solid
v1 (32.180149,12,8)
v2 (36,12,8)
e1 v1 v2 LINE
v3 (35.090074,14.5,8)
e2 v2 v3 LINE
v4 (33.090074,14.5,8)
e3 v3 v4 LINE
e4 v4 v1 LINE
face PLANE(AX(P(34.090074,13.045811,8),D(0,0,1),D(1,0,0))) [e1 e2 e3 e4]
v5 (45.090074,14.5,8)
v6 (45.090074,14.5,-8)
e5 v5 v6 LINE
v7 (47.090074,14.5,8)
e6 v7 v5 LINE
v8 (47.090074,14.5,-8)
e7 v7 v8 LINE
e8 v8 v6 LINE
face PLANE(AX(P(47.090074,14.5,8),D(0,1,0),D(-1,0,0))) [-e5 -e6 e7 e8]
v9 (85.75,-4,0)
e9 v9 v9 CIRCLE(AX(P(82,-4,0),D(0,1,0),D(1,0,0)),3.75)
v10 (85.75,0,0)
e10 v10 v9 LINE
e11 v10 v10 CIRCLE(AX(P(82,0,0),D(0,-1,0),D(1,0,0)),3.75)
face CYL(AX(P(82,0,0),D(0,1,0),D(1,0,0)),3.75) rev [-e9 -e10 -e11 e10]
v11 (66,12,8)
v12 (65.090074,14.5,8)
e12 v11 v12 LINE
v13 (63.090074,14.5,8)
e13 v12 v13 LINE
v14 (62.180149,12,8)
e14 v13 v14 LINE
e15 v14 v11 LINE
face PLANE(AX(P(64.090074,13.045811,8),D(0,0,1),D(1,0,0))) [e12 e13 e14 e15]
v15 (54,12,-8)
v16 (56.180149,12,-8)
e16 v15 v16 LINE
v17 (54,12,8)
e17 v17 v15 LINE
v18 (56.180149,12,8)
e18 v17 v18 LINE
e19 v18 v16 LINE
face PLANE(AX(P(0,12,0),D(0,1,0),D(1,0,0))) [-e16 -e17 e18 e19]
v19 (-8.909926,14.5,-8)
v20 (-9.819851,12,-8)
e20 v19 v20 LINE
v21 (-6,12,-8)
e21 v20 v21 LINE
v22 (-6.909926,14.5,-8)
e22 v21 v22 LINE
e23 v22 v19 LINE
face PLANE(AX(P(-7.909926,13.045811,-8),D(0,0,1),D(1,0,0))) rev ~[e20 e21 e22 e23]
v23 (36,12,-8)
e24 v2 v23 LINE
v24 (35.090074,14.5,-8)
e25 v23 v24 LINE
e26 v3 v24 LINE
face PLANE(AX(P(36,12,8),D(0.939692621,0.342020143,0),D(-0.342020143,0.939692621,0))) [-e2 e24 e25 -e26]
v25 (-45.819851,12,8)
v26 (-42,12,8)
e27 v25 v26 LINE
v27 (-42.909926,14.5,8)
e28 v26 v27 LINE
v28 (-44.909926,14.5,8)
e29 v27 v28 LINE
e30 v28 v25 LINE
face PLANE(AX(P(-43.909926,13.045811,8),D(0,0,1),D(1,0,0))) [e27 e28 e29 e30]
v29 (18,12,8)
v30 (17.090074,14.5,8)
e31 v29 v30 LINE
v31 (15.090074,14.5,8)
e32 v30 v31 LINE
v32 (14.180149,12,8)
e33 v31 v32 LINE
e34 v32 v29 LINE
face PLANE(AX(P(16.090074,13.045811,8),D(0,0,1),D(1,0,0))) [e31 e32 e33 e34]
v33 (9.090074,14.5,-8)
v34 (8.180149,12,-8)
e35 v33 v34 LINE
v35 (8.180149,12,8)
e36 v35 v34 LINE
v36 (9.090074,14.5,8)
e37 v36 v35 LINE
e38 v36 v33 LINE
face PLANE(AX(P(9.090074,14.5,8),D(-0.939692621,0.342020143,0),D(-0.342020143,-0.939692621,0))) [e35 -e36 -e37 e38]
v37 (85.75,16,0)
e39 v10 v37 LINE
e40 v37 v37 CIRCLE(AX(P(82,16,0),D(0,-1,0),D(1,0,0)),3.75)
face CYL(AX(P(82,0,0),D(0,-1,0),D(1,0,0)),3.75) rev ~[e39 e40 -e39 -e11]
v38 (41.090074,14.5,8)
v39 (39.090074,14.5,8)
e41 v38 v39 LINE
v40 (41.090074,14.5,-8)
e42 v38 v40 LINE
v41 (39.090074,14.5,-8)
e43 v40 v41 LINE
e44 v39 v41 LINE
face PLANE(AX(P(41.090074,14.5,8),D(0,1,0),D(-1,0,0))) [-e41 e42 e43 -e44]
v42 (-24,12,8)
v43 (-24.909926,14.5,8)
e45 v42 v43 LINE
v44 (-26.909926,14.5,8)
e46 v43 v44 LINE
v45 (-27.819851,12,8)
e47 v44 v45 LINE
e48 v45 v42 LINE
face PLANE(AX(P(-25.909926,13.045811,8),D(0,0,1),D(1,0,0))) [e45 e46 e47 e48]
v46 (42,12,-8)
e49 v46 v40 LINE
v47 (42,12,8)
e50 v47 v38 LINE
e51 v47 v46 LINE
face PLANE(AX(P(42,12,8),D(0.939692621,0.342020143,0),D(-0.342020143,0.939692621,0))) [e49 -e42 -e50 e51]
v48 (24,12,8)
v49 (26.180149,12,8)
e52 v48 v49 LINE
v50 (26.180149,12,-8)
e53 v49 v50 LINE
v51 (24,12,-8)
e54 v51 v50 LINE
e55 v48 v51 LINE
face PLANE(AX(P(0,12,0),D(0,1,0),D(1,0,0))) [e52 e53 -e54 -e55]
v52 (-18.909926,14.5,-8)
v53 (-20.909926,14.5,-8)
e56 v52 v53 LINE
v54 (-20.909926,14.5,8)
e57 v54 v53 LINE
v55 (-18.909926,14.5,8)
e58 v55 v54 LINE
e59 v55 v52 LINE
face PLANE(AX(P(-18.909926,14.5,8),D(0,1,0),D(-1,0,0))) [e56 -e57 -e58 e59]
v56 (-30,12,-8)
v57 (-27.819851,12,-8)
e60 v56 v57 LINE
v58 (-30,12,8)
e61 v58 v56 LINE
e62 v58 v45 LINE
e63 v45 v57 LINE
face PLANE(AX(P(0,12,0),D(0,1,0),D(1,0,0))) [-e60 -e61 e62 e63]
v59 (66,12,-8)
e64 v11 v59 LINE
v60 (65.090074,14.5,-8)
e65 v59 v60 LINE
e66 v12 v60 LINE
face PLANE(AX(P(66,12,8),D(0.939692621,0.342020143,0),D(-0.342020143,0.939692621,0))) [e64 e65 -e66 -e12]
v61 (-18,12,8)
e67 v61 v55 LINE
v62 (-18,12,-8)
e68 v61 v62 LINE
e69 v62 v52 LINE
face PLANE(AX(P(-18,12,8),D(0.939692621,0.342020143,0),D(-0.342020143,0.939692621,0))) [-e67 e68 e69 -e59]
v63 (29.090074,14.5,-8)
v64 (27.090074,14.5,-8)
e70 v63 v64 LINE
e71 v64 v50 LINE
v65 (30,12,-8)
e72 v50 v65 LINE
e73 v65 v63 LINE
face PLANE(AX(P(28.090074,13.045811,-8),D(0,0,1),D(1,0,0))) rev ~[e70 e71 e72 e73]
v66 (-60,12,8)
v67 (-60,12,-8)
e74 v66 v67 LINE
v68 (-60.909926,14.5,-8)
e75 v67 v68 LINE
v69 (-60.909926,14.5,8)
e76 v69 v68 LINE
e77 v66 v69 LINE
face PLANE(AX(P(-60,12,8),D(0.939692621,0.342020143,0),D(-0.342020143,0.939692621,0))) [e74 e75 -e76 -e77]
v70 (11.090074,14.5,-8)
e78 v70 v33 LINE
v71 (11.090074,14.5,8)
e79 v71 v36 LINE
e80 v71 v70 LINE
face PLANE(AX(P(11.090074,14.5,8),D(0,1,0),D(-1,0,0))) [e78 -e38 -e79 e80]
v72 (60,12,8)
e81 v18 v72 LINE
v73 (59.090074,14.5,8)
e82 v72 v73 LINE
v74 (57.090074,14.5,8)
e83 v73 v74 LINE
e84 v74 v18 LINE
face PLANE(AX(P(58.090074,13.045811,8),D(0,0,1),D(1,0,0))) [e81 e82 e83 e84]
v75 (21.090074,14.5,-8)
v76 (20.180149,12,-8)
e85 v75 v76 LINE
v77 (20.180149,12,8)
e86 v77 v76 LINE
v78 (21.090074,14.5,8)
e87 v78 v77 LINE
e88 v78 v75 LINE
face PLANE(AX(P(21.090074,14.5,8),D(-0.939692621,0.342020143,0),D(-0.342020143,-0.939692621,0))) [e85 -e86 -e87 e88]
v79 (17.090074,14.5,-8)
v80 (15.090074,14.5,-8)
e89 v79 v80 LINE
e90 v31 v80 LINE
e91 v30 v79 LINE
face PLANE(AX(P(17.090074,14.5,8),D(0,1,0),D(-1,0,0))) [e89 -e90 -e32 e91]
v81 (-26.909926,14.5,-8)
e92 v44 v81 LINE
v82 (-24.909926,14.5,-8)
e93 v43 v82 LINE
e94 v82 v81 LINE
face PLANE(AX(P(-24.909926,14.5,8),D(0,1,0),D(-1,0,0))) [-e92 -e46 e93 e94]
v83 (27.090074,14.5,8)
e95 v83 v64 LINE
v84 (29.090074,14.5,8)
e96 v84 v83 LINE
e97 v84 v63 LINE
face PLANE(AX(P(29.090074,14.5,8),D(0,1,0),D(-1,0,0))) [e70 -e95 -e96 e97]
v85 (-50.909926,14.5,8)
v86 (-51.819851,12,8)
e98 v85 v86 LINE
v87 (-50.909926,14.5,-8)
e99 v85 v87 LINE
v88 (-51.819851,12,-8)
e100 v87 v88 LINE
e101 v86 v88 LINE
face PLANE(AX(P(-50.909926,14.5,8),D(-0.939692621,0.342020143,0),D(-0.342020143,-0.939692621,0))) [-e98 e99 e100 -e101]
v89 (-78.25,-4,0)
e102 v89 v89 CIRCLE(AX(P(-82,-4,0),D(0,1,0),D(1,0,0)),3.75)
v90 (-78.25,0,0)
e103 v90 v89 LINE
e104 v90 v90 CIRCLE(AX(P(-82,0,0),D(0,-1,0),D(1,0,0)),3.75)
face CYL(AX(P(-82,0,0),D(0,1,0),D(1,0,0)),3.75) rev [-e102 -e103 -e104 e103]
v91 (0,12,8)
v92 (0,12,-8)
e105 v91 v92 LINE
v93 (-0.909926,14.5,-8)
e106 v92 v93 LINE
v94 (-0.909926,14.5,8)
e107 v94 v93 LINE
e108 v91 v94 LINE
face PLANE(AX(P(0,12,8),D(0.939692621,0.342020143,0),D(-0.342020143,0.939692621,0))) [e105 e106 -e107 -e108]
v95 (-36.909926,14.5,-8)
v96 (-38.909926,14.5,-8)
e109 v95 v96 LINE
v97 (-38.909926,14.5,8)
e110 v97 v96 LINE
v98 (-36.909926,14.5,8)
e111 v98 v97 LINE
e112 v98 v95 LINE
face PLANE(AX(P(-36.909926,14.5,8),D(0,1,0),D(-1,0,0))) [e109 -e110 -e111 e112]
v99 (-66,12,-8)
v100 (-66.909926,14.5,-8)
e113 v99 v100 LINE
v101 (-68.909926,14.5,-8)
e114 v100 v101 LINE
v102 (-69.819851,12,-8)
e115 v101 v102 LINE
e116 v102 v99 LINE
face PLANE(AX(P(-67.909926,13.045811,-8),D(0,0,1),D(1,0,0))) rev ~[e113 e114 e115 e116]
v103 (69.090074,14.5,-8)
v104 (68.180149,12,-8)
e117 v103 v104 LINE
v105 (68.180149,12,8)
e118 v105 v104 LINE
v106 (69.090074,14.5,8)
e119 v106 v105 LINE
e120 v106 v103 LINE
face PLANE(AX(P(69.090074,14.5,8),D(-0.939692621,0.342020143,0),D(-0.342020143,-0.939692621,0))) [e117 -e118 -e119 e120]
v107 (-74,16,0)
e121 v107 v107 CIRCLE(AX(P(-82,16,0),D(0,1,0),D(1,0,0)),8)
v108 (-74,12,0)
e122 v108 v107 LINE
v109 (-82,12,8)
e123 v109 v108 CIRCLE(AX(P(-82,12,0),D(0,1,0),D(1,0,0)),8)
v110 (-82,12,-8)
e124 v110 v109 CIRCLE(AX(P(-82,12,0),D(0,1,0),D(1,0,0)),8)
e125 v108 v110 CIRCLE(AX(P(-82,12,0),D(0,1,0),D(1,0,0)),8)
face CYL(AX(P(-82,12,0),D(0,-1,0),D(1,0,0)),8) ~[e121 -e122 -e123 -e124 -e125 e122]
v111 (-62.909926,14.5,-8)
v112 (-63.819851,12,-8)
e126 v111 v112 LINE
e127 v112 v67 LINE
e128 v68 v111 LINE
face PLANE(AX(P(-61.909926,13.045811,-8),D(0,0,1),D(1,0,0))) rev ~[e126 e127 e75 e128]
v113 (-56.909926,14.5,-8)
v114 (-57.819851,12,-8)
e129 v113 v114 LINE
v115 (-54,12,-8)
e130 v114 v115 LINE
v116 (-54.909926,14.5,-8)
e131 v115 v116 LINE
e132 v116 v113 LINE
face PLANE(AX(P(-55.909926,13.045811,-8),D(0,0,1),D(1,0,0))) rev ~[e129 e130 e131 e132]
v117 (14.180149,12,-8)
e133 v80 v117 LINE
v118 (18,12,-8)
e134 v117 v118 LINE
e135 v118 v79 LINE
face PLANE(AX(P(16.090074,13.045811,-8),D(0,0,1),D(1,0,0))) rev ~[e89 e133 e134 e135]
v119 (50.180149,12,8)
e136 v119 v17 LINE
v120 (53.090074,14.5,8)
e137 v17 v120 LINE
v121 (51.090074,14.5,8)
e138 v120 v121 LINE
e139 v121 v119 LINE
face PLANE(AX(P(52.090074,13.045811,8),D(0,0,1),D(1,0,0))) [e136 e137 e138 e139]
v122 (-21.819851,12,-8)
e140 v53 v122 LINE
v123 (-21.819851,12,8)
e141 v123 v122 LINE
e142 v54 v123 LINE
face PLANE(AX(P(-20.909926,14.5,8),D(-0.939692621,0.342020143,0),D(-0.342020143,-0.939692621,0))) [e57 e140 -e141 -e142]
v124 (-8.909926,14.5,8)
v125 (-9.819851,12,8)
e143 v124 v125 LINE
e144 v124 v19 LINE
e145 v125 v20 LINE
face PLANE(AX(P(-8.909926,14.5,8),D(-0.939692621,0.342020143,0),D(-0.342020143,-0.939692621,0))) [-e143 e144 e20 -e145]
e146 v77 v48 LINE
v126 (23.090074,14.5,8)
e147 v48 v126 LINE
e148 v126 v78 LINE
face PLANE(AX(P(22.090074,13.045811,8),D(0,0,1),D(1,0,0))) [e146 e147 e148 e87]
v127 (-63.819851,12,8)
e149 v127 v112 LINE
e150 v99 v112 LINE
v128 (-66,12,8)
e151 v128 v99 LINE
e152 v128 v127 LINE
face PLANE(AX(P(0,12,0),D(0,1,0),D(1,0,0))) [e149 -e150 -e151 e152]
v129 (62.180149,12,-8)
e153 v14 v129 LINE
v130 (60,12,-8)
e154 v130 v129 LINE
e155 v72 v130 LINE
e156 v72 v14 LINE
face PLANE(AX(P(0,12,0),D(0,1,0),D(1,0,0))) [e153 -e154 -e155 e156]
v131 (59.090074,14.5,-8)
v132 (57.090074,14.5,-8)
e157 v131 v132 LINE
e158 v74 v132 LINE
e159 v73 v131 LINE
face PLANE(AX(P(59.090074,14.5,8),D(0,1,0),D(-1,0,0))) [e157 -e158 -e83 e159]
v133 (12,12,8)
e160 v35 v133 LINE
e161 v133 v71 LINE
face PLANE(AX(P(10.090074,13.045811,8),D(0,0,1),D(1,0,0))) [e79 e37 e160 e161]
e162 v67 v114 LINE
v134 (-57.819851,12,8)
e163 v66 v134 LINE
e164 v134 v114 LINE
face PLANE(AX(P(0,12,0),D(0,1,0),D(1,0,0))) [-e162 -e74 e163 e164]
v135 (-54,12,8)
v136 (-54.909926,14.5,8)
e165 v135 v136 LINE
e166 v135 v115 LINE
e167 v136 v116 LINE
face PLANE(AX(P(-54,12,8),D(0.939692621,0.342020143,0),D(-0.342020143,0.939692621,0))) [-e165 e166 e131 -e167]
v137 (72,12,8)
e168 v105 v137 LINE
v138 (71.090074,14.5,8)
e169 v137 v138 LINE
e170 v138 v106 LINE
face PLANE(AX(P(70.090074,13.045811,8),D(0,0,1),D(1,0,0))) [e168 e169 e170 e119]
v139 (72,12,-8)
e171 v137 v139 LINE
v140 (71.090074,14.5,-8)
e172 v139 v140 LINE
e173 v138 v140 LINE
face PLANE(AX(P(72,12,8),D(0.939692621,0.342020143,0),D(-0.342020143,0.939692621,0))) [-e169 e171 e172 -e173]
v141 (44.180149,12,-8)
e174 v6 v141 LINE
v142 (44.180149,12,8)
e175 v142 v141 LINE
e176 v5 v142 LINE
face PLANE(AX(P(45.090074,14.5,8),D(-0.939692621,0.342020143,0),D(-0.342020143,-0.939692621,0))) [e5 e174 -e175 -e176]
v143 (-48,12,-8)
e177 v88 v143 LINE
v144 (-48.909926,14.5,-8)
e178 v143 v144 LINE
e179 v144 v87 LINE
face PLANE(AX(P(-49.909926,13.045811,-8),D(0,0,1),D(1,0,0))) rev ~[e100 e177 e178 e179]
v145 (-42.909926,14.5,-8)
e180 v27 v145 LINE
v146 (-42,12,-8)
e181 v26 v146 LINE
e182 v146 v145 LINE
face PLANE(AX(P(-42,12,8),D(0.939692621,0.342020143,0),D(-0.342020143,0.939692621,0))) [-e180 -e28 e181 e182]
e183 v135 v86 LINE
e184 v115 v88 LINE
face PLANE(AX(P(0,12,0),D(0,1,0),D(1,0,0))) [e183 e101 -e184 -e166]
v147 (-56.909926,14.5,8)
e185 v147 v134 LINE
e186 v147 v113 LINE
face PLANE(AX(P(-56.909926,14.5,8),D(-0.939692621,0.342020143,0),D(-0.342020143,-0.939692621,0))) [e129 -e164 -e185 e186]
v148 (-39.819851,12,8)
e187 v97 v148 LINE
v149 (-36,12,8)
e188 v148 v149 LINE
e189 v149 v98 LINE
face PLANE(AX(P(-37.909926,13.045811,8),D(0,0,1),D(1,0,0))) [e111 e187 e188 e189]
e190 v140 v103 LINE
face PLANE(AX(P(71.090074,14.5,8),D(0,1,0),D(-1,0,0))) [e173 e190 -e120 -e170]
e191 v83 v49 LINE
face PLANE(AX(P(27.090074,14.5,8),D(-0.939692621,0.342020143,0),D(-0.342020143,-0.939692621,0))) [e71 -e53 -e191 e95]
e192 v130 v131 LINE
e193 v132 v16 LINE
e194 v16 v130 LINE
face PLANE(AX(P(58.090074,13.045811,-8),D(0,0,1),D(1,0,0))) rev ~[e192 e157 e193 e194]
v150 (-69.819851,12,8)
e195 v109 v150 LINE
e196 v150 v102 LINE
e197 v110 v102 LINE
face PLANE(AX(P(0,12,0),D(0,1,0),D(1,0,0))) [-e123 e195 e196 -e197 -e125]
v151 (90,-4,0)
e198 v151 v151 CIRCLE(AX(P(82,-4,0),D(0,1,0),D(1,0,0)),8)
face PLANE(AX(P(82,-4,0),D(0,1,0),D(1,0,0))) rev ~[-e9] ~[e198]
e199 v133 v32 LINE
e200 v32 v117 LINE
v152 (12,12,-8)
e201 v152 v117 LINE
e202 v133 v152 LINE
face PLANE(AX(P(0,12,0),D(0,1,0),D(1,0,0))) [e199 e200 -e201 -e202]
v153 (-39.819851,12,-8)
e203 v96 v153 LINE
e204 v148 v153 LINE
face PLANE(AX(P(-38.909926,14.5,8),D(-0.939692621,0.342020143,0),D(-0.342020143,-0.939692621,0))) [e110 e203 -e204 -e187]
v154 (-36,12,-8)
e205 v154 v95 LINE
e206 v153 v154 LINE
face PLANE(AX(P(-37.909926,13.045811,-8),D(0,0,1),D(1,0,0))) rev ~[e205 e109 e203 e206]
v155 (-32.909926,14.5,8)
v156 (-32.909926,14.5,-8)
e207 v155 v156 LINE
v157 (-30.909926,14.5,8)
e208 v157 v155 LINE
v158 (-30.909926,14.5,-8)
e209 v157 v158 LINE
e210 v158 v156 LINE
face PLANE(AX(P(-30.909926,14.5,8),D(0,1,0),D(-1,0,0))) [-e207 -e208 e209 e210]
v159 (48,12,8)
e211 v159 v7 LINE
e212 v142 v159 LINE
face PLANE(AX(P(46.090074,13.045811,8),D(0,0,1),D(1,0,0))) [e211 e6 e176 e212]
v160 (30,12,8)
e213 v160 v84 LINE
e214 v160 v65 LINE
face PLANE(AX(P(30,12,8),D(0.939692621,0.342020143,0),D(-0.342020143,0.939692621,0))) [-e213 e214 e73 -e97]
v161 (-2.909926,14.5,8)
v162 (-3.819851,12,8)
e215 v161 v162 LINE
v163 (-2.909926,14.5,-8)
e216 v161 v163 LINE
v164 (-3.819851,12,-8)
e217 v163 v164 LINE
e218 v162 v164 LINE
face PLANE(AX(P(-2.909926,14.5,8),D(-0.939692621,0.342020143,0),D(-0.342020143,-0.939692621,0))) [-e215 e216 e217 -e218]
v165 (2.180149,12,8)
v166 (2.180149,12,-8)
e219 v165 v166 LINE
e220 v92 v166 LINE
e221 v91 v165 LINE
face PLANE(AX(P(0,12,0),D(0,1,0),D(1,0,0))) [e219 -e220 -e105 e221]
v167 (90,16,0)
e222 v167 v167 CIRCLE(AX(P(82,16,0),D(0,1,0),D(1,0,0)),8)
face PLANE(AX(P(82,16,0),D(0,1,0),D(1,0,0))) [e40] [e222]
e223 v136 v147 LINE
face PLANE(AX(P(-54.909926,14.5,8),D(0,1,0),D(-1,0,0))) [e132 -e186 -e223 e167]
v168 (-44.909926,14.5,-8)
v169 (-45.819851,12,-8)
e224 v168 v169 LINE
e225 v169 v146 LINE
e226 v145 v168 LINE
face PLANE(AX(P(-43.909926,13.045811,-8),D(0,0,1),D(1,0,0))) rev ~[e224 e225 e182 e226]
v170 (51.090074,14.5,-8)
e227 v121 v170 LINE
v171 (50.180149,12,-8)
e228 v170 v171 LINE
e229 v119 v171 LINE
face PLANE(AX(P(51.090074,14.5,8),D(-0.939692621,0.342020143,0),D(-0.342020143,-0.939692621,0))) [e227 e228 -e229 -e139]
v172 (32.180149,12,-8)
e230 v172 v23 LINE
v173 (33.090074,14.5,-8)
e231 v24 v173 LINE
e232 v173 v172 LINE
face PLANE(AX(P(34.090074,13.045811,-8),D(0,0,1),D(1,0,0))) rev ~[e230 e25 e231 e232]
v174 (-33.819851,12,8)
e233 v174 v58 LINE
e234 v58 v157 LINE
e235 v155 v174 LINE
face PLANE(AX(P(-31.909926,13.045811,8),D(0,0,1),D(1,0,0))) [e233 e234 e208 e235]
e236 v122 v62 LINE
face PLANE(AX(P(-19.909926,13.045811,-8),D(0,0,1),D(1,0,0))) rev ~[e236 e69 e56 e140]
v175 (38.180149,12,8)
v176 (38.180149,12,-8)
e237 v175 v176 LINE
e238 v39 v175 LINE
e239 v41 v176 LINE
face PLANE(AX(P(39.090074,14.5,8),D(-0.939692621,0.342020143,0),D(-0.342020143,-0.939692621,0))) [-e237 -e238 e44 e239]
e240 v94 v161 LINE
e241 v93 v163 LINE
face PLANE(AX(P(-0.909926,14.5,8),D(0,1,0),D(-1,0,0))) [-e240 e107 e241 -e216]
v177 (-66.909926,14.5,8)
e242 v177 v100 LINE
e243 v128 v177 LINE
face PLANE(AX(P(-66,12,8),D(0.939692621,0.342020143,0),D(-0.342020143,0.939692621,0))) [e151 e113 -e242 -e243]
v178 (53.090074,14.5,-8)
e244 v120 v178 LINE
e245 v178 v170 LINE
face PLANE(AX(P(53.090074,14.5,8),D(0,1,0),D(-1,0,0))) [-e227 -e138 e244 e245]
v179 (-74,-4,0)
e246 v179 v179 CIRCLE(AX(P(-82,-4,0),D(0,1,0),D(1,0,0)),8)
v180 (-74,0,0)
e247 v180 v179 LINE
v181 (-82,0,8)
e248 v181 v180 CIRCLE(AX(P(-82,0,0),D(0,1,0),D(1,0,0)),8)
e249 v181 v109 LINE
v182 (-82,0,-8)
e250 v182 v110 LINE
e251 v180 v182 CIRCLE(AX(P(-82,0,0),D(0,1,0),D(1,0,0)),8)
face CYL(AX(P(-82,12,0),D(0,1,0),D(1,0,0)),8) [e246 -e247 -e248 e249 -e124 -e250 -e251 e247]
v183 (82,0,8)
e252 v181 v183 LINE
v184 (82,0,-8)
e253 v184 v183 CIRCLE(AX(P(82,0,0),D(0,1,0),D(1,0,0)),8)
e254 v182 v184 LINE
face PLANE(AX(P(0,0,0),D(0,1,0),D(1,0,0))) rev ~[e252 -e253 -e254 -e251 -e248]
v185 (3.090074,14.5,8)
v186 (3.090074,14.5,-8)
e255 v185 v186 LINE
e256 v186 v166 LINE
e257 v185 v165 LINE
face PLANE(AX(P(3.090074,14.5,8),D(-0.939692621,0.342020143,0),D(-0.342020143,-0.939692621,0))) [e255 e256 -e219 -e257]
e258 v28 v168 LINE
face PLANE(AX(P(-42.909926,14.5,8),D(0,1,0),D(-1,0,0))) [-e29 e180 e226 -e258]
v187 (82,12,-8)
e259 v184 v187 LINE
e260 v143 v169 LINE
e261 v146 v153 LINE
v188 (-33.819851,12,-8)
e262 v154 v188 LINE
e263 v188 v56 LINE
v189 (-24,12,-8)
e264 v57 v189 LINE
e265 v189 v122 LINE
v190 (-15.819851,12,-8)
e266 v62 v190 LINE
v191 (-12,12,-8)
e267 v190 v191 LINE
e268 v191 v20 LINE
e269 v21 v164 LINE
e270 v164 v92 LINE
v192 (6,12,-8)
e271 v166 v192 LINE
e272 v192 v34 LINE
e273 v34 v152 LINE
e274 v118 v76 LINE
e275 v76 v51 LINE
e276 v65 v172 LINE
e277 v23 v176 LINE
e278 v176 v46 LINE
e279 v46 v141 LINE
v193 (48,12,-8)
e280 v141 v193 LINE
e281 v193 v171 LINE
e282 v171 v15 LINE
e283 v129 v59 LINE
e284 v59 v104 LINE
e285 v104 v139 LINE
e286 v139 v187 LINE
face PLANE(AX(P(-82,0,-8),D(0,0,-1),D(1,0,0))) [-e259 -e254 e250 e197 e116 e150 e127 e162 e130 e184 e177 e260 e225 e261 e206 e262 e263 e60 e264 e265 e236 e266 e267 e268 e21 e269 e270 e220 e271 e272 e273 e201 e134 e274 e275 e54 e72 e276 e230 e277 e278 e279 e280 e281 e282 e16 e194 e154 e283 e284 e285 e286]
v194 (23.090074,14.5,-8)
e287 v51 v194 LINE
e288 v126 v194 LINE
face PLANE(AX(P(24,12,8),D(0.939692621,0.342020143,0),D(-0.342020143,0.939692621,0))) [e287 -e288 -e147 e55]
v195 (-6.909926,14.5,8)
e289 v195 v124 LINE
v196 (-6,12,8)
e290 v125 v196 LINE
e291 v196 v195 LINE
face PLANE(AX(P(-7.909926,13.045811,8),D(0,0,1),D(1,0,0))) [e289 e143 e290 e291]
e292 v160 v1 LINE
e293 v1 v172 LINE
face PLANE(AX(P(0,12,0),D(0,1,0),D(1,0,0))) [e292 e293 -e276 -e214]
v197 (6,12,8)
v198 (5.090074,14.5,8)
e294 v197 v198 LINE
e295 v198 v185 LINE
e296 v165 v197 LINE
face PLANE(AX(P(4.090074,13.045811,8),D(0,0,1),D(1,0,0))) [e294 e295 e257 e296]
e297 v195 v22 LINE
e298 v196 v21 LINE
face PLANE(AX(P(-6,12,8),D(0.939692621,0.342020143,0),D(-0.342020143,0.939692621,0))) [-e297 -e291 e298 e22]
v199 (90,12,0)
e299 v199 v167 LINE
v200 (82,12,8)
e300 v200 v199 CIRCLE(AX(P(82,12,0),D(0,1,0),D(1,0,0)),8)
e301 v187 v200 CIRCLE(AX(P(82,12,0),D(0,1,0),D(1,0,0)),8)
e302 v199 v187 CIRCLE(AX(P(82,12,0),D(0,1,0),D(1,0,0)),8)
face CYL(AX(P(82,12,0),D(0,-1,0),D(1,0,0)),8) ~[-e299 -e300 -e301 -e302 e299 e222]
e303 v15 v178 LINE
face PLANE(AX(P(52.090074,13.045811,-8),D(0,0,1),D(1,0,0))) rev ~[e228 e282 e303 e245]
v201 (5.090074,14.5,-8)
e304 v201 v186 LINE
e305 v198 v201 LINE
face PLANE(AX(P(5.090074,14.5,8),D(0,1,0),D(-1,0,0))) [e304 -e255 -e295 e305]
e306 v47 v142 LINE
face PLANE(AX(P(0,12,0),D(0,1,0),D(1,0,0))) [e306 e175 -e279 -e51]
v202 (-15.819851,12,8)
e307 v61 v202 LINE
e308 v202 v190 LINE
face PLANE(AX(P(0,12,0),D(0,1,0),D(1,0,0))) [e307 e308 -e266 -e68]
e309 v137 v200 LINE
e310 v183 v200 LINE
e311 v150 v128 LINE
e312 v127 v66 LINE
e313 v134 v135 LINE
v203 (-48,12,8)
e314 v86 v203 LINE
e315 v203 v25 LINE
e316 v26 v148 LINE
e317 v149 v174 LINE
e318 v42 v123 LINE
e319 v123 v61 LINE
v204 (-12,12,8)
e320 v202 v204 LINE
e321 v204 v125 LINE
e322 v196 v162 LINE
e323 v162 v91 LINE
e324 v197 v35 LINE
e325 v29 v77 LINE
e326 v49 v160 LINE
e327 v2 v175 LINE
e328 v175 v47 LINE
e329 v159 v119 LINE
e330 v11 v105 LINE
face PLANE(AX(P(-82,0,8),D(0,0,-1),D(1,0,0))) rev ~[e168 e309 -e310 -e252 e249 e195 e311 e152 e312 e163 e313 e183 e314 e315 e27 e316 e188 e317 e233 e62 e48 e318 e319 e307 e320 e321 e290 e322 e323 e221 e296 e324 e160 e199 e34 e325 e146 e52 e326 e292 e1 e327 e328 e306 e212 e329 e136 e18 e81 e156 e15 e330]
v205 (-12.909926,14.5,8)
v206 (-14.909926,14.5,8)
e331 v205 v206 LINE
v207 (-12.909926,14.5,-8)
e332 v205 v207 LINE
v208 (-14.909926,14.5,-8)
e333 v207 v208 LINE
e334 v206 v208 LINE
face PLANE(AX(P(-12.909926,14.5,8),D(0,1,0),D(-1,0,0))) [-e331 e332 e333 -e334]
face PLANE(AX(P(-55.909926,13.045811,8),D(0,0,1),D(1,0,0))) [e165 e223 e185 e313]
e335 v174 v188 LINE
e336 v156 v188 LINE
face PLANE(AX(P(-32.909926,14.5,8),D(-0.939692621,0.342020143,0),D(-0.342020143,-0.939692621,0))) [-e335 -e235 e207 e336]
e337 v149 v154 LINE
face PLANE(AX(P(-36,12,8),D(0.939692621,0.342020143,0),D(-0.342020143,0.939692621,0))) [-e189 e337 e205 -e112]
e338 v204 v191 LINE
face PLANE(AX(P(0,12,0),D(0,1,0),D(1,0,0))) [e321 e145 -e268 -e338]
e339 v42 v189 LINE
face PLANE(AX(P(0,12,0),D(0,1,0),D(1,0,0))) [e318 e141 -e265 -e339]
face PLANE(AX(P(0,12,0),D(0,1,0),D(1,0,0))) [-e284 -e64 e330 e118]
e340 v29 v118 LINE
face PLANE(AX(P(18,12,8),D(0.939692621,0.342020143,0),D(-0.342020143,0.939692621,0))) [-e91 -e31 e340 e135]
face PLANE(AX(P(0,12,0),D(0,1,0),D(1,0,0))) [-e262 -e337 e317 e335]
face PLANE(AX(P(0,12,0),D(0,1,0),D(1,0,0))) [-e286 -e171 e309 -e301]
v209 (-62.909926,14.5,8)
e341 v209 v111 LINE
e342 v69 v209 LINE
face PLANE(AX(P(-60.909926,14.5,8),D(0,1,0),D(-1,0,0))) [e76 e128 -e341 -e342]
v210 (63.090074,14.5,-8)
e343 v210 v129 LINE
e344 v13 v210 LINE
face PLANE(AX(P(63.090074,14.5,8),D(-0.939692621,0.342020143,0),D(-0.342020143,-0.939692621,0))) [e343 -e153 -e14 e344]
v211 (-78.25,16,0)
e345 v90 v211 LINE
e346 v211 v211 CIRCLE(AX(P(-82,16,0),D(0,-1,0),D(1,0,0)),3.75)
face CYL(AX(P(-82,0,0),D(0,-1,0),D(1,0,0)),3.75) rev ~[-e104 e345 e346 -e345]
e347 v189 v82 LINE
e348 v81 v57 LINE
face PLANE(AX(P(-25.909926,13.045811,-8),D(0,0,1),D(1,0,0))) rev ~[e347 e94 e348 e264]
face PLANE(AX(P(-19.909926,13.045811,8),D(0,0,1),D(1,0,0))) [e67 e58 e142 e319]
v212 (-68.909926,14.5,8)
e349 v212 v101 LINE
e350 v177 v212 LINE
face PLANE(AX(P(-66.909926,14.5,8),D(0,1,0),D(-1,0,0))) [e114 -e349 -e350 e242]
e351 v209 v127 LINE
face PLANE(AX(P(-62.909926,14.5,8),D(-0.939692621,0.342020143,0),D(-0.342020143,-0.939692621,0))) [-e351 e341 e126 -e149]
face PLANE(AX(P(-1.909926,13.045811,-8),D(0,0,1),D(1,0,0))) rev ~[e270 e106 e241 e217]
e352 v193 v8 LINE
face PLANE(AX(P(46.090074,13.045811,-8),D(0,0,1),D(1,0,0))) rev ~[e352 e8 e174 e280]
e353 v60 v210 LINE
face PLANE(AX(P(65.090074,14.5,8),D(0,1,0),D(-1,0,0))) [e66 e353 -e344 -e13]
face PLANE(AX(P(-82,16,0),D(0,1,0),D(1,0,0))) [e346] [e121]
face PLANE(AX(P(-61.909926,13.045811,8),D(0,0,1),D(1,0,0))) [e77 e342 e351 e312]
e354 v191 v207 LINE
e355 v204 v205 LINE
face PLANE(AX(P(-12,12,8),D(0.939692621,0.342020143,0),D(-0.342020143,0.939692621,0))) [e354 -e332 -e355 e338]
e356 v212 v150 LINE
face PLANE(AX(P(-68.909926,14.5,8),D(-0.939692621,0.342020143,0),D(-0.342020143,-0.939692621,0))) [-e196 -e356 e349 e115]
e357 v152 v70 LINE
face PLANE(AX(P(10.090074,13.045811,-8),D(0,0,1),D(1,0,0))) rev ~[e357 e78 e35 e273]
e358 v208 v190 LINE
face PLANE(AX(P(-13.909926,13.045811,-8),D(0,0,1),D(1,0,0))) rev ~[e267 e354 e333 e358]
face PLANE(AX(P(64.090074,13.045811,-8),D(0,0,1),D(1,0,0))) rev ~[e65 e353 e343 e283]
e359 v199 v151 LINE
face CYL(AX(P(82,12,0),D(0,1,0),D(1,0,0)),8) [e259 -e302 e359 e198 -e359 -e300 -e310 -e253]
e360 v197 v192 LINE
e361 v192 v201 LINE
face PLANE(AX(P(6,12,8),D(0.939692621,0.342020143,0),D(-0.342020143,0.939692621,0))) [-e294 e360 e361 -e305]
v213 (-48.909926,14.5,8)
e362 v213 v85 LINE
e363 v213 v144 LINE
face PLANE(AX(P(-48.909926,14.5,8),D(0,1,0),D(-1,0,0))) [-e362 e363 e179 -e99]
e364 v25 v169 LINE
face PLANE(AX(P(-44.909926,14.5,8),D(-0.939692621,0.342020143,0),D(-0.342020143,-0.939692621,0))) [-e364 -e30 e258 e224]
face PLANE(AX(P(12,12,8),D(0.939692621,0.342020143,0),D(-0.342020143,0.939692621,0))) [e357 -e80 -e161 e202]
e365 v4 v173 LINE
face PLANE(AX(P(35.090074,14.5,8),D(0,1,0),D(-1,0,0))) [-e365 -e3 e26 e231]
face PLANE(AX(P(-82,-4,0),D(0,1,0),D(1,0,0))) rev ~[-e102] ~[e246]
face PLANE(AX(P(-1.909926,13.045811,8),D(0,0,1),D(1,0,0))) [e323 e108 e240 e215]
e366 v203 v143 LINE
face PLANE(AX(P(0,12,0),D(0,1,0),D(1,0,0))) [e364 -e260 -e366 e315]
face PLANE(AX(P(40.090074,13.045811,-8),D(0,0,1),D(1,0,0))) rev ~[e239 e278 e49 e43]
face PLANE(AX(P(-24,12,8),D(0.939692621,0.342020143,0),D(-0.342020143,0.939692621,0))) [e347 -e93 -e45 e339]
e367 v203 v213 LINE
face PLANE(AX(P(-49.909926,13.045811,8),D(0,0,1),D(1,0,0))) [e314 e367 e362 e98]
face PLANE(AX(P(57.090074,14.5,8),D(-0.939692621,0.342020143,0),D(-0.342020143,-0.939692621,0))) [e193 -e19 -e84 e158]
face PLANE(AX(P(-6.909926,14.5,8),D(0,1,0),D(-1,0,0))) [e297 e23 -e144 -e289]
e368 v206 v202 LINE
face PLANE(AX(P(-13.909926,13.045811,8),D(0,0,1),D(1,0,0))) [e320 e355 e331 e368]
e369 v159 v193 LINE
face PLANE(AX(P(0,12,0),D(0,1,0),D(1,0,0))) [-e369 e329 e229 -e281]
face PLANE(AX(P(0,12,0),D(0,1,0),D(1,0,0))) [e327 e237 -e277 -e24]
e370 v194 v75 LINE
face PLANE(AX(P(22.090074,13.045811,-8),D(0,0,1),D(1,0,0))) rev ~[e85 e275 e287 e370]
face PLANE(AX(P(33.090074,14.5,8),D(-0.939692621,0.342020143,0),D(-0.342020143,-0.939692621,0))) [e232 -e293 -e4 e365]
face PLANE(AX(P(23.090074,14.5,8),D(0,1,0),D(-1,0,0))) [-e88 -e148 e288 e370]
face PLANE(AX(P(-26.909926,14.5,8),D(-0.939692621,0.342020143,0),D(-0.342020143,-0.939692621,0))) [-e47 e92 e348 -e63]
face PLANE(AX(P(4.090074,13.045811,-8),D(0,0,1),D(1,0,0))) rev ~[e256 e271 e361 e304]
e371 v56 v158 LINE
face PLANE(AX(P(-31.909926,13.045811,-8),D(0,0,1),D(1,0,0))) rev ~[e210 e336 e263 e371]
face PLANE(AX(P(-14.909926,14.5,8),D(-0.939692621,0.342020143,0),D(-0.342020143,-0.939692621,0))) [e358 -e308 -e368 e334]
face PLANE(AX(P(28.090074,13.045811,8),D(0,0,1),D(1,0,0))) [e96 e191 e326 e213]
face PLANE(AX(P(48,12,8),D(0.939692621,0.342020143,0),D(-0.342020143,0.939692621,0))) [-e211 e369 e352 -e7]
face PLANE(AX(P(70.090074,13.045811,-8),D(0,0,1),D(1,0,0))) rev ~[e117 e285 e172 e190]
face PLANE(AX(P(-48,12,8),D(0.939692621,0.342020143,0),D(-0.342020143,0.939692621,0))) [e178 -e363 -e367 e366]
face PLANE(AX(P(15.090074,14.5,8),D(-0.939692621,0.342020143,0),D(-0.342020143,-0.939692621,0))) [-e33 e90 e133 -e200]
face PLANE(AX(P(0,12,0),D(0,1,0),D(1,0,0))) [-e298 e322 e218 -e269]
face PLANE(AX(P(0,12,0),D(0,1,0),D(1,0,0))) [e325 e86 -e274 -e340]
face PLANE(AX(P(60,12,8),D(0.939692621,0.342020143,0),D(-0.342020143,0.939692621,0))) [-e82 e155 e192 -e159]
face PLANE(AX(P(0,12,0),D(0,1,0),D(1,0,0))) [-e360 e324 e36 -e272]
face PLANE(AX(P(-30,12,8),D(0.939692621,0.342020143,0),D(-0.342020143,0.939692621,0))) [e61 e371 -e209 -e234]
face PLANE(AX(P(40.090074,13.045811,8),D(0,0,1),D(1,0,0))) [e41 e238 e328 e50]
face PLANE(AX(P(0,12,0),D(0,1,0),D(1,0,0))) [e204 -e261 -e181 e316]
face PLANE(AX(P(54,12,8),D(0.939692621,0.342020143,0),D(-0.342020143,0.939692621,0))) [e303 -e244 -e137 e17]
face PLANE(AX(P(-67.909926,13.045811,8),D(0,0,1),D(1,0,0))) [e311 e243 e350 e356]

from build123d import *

# Parameters (mm, degrees)
SKETCH1_W                = 164
SKETCH1_H                = 16
BOSS_EXTRUDE1_DEPTH      = 12
SKETCH2_R                = 8
BOSS_EXTRUDE2_DEPTH      = 4
BOSS_EXTRUDE2_DEPTH_BACK = 16
BOSS_EXTRUDE3_DEPTH      = 16
LPATTERN1_COUNT          = 24
LPATTERN1_PITCH          = 6
SKETCH4_R                = 3.75
CUT_EXTRUDE1_DEPTH       = 5
CUT_EXTRUDE1_DEPTH_BACK  = 17


with BuildPart() as part:
    # Sketch1 → Boss-Extrude1 (new body)
    with BuildSketch(Plane(origin=(0, 0, 0), x_dir=(1, 0, 0), z_dir=(0, 1, 0))):
        Rectangle(SKETCH1_W, SKETCH1_H)
    extrude(amount=BOSS_EXTRUDE1_DEPTH)

    # Sketch2 → Boss-Extrude2 (add, two sides)
    with BuildSketch(Plane(origin=(0, 12, 0), x_dir=(1, 0, 0), z_dir=(0, 1, 0))) as boss_extrude2_sk:
        with Locations((-82, 0)):
            Circle(SKETCH2_R)
        with Locations((82, 0)):
            Circle(SKETCH2_R)
    extrude(amount=BOSS_EXTRUDE2_DEPTH)
    extrude(boss_extrude2_sk.sketch, amount=-BOSS_EXTRUDE2_DEPTH_BACK)

    # Sketch3 → Boss-Extrude3 (add)
    with BuildSketch(Plane.XY.offset(8)):
        Polygon((68.180148829, 12), (72, 12), (71.090074414, 14.5), (69.090074414, 14.5), align=None)
    boss_extrude3 = extrude(amount=-BOSS_EXTRUDE3_DEPTH)

    # LPattern1: Boss-Extrude3 ×24
    with Locations(*[(-i * LPATTERN1_PITCH, 0, 0) for i in range(1, LPATTERN1_COUNT)]):
        add(boss_extrude3)

    # Sketch4 → Cut-Extrude1 (cut, two sides)
    with BuildSketch(Plane.XZ) as cut_extrude1_sk:
        with Locations((-82, 0)):
            Circle(SKETCH4_R)
        with Locations((82, 0)):
            Circle(SKETCH4_R)
    extrude(amount=CUT_EXTRUDE1_DEPTH, mode=Mode.SUBTRACT)
    extrude(cut_extrude1_sk.sketch, amount=-CUT_EXTRUDE1_DEPTH_BACK, mode=Mode.SUBTRACT)


solid = part.part
